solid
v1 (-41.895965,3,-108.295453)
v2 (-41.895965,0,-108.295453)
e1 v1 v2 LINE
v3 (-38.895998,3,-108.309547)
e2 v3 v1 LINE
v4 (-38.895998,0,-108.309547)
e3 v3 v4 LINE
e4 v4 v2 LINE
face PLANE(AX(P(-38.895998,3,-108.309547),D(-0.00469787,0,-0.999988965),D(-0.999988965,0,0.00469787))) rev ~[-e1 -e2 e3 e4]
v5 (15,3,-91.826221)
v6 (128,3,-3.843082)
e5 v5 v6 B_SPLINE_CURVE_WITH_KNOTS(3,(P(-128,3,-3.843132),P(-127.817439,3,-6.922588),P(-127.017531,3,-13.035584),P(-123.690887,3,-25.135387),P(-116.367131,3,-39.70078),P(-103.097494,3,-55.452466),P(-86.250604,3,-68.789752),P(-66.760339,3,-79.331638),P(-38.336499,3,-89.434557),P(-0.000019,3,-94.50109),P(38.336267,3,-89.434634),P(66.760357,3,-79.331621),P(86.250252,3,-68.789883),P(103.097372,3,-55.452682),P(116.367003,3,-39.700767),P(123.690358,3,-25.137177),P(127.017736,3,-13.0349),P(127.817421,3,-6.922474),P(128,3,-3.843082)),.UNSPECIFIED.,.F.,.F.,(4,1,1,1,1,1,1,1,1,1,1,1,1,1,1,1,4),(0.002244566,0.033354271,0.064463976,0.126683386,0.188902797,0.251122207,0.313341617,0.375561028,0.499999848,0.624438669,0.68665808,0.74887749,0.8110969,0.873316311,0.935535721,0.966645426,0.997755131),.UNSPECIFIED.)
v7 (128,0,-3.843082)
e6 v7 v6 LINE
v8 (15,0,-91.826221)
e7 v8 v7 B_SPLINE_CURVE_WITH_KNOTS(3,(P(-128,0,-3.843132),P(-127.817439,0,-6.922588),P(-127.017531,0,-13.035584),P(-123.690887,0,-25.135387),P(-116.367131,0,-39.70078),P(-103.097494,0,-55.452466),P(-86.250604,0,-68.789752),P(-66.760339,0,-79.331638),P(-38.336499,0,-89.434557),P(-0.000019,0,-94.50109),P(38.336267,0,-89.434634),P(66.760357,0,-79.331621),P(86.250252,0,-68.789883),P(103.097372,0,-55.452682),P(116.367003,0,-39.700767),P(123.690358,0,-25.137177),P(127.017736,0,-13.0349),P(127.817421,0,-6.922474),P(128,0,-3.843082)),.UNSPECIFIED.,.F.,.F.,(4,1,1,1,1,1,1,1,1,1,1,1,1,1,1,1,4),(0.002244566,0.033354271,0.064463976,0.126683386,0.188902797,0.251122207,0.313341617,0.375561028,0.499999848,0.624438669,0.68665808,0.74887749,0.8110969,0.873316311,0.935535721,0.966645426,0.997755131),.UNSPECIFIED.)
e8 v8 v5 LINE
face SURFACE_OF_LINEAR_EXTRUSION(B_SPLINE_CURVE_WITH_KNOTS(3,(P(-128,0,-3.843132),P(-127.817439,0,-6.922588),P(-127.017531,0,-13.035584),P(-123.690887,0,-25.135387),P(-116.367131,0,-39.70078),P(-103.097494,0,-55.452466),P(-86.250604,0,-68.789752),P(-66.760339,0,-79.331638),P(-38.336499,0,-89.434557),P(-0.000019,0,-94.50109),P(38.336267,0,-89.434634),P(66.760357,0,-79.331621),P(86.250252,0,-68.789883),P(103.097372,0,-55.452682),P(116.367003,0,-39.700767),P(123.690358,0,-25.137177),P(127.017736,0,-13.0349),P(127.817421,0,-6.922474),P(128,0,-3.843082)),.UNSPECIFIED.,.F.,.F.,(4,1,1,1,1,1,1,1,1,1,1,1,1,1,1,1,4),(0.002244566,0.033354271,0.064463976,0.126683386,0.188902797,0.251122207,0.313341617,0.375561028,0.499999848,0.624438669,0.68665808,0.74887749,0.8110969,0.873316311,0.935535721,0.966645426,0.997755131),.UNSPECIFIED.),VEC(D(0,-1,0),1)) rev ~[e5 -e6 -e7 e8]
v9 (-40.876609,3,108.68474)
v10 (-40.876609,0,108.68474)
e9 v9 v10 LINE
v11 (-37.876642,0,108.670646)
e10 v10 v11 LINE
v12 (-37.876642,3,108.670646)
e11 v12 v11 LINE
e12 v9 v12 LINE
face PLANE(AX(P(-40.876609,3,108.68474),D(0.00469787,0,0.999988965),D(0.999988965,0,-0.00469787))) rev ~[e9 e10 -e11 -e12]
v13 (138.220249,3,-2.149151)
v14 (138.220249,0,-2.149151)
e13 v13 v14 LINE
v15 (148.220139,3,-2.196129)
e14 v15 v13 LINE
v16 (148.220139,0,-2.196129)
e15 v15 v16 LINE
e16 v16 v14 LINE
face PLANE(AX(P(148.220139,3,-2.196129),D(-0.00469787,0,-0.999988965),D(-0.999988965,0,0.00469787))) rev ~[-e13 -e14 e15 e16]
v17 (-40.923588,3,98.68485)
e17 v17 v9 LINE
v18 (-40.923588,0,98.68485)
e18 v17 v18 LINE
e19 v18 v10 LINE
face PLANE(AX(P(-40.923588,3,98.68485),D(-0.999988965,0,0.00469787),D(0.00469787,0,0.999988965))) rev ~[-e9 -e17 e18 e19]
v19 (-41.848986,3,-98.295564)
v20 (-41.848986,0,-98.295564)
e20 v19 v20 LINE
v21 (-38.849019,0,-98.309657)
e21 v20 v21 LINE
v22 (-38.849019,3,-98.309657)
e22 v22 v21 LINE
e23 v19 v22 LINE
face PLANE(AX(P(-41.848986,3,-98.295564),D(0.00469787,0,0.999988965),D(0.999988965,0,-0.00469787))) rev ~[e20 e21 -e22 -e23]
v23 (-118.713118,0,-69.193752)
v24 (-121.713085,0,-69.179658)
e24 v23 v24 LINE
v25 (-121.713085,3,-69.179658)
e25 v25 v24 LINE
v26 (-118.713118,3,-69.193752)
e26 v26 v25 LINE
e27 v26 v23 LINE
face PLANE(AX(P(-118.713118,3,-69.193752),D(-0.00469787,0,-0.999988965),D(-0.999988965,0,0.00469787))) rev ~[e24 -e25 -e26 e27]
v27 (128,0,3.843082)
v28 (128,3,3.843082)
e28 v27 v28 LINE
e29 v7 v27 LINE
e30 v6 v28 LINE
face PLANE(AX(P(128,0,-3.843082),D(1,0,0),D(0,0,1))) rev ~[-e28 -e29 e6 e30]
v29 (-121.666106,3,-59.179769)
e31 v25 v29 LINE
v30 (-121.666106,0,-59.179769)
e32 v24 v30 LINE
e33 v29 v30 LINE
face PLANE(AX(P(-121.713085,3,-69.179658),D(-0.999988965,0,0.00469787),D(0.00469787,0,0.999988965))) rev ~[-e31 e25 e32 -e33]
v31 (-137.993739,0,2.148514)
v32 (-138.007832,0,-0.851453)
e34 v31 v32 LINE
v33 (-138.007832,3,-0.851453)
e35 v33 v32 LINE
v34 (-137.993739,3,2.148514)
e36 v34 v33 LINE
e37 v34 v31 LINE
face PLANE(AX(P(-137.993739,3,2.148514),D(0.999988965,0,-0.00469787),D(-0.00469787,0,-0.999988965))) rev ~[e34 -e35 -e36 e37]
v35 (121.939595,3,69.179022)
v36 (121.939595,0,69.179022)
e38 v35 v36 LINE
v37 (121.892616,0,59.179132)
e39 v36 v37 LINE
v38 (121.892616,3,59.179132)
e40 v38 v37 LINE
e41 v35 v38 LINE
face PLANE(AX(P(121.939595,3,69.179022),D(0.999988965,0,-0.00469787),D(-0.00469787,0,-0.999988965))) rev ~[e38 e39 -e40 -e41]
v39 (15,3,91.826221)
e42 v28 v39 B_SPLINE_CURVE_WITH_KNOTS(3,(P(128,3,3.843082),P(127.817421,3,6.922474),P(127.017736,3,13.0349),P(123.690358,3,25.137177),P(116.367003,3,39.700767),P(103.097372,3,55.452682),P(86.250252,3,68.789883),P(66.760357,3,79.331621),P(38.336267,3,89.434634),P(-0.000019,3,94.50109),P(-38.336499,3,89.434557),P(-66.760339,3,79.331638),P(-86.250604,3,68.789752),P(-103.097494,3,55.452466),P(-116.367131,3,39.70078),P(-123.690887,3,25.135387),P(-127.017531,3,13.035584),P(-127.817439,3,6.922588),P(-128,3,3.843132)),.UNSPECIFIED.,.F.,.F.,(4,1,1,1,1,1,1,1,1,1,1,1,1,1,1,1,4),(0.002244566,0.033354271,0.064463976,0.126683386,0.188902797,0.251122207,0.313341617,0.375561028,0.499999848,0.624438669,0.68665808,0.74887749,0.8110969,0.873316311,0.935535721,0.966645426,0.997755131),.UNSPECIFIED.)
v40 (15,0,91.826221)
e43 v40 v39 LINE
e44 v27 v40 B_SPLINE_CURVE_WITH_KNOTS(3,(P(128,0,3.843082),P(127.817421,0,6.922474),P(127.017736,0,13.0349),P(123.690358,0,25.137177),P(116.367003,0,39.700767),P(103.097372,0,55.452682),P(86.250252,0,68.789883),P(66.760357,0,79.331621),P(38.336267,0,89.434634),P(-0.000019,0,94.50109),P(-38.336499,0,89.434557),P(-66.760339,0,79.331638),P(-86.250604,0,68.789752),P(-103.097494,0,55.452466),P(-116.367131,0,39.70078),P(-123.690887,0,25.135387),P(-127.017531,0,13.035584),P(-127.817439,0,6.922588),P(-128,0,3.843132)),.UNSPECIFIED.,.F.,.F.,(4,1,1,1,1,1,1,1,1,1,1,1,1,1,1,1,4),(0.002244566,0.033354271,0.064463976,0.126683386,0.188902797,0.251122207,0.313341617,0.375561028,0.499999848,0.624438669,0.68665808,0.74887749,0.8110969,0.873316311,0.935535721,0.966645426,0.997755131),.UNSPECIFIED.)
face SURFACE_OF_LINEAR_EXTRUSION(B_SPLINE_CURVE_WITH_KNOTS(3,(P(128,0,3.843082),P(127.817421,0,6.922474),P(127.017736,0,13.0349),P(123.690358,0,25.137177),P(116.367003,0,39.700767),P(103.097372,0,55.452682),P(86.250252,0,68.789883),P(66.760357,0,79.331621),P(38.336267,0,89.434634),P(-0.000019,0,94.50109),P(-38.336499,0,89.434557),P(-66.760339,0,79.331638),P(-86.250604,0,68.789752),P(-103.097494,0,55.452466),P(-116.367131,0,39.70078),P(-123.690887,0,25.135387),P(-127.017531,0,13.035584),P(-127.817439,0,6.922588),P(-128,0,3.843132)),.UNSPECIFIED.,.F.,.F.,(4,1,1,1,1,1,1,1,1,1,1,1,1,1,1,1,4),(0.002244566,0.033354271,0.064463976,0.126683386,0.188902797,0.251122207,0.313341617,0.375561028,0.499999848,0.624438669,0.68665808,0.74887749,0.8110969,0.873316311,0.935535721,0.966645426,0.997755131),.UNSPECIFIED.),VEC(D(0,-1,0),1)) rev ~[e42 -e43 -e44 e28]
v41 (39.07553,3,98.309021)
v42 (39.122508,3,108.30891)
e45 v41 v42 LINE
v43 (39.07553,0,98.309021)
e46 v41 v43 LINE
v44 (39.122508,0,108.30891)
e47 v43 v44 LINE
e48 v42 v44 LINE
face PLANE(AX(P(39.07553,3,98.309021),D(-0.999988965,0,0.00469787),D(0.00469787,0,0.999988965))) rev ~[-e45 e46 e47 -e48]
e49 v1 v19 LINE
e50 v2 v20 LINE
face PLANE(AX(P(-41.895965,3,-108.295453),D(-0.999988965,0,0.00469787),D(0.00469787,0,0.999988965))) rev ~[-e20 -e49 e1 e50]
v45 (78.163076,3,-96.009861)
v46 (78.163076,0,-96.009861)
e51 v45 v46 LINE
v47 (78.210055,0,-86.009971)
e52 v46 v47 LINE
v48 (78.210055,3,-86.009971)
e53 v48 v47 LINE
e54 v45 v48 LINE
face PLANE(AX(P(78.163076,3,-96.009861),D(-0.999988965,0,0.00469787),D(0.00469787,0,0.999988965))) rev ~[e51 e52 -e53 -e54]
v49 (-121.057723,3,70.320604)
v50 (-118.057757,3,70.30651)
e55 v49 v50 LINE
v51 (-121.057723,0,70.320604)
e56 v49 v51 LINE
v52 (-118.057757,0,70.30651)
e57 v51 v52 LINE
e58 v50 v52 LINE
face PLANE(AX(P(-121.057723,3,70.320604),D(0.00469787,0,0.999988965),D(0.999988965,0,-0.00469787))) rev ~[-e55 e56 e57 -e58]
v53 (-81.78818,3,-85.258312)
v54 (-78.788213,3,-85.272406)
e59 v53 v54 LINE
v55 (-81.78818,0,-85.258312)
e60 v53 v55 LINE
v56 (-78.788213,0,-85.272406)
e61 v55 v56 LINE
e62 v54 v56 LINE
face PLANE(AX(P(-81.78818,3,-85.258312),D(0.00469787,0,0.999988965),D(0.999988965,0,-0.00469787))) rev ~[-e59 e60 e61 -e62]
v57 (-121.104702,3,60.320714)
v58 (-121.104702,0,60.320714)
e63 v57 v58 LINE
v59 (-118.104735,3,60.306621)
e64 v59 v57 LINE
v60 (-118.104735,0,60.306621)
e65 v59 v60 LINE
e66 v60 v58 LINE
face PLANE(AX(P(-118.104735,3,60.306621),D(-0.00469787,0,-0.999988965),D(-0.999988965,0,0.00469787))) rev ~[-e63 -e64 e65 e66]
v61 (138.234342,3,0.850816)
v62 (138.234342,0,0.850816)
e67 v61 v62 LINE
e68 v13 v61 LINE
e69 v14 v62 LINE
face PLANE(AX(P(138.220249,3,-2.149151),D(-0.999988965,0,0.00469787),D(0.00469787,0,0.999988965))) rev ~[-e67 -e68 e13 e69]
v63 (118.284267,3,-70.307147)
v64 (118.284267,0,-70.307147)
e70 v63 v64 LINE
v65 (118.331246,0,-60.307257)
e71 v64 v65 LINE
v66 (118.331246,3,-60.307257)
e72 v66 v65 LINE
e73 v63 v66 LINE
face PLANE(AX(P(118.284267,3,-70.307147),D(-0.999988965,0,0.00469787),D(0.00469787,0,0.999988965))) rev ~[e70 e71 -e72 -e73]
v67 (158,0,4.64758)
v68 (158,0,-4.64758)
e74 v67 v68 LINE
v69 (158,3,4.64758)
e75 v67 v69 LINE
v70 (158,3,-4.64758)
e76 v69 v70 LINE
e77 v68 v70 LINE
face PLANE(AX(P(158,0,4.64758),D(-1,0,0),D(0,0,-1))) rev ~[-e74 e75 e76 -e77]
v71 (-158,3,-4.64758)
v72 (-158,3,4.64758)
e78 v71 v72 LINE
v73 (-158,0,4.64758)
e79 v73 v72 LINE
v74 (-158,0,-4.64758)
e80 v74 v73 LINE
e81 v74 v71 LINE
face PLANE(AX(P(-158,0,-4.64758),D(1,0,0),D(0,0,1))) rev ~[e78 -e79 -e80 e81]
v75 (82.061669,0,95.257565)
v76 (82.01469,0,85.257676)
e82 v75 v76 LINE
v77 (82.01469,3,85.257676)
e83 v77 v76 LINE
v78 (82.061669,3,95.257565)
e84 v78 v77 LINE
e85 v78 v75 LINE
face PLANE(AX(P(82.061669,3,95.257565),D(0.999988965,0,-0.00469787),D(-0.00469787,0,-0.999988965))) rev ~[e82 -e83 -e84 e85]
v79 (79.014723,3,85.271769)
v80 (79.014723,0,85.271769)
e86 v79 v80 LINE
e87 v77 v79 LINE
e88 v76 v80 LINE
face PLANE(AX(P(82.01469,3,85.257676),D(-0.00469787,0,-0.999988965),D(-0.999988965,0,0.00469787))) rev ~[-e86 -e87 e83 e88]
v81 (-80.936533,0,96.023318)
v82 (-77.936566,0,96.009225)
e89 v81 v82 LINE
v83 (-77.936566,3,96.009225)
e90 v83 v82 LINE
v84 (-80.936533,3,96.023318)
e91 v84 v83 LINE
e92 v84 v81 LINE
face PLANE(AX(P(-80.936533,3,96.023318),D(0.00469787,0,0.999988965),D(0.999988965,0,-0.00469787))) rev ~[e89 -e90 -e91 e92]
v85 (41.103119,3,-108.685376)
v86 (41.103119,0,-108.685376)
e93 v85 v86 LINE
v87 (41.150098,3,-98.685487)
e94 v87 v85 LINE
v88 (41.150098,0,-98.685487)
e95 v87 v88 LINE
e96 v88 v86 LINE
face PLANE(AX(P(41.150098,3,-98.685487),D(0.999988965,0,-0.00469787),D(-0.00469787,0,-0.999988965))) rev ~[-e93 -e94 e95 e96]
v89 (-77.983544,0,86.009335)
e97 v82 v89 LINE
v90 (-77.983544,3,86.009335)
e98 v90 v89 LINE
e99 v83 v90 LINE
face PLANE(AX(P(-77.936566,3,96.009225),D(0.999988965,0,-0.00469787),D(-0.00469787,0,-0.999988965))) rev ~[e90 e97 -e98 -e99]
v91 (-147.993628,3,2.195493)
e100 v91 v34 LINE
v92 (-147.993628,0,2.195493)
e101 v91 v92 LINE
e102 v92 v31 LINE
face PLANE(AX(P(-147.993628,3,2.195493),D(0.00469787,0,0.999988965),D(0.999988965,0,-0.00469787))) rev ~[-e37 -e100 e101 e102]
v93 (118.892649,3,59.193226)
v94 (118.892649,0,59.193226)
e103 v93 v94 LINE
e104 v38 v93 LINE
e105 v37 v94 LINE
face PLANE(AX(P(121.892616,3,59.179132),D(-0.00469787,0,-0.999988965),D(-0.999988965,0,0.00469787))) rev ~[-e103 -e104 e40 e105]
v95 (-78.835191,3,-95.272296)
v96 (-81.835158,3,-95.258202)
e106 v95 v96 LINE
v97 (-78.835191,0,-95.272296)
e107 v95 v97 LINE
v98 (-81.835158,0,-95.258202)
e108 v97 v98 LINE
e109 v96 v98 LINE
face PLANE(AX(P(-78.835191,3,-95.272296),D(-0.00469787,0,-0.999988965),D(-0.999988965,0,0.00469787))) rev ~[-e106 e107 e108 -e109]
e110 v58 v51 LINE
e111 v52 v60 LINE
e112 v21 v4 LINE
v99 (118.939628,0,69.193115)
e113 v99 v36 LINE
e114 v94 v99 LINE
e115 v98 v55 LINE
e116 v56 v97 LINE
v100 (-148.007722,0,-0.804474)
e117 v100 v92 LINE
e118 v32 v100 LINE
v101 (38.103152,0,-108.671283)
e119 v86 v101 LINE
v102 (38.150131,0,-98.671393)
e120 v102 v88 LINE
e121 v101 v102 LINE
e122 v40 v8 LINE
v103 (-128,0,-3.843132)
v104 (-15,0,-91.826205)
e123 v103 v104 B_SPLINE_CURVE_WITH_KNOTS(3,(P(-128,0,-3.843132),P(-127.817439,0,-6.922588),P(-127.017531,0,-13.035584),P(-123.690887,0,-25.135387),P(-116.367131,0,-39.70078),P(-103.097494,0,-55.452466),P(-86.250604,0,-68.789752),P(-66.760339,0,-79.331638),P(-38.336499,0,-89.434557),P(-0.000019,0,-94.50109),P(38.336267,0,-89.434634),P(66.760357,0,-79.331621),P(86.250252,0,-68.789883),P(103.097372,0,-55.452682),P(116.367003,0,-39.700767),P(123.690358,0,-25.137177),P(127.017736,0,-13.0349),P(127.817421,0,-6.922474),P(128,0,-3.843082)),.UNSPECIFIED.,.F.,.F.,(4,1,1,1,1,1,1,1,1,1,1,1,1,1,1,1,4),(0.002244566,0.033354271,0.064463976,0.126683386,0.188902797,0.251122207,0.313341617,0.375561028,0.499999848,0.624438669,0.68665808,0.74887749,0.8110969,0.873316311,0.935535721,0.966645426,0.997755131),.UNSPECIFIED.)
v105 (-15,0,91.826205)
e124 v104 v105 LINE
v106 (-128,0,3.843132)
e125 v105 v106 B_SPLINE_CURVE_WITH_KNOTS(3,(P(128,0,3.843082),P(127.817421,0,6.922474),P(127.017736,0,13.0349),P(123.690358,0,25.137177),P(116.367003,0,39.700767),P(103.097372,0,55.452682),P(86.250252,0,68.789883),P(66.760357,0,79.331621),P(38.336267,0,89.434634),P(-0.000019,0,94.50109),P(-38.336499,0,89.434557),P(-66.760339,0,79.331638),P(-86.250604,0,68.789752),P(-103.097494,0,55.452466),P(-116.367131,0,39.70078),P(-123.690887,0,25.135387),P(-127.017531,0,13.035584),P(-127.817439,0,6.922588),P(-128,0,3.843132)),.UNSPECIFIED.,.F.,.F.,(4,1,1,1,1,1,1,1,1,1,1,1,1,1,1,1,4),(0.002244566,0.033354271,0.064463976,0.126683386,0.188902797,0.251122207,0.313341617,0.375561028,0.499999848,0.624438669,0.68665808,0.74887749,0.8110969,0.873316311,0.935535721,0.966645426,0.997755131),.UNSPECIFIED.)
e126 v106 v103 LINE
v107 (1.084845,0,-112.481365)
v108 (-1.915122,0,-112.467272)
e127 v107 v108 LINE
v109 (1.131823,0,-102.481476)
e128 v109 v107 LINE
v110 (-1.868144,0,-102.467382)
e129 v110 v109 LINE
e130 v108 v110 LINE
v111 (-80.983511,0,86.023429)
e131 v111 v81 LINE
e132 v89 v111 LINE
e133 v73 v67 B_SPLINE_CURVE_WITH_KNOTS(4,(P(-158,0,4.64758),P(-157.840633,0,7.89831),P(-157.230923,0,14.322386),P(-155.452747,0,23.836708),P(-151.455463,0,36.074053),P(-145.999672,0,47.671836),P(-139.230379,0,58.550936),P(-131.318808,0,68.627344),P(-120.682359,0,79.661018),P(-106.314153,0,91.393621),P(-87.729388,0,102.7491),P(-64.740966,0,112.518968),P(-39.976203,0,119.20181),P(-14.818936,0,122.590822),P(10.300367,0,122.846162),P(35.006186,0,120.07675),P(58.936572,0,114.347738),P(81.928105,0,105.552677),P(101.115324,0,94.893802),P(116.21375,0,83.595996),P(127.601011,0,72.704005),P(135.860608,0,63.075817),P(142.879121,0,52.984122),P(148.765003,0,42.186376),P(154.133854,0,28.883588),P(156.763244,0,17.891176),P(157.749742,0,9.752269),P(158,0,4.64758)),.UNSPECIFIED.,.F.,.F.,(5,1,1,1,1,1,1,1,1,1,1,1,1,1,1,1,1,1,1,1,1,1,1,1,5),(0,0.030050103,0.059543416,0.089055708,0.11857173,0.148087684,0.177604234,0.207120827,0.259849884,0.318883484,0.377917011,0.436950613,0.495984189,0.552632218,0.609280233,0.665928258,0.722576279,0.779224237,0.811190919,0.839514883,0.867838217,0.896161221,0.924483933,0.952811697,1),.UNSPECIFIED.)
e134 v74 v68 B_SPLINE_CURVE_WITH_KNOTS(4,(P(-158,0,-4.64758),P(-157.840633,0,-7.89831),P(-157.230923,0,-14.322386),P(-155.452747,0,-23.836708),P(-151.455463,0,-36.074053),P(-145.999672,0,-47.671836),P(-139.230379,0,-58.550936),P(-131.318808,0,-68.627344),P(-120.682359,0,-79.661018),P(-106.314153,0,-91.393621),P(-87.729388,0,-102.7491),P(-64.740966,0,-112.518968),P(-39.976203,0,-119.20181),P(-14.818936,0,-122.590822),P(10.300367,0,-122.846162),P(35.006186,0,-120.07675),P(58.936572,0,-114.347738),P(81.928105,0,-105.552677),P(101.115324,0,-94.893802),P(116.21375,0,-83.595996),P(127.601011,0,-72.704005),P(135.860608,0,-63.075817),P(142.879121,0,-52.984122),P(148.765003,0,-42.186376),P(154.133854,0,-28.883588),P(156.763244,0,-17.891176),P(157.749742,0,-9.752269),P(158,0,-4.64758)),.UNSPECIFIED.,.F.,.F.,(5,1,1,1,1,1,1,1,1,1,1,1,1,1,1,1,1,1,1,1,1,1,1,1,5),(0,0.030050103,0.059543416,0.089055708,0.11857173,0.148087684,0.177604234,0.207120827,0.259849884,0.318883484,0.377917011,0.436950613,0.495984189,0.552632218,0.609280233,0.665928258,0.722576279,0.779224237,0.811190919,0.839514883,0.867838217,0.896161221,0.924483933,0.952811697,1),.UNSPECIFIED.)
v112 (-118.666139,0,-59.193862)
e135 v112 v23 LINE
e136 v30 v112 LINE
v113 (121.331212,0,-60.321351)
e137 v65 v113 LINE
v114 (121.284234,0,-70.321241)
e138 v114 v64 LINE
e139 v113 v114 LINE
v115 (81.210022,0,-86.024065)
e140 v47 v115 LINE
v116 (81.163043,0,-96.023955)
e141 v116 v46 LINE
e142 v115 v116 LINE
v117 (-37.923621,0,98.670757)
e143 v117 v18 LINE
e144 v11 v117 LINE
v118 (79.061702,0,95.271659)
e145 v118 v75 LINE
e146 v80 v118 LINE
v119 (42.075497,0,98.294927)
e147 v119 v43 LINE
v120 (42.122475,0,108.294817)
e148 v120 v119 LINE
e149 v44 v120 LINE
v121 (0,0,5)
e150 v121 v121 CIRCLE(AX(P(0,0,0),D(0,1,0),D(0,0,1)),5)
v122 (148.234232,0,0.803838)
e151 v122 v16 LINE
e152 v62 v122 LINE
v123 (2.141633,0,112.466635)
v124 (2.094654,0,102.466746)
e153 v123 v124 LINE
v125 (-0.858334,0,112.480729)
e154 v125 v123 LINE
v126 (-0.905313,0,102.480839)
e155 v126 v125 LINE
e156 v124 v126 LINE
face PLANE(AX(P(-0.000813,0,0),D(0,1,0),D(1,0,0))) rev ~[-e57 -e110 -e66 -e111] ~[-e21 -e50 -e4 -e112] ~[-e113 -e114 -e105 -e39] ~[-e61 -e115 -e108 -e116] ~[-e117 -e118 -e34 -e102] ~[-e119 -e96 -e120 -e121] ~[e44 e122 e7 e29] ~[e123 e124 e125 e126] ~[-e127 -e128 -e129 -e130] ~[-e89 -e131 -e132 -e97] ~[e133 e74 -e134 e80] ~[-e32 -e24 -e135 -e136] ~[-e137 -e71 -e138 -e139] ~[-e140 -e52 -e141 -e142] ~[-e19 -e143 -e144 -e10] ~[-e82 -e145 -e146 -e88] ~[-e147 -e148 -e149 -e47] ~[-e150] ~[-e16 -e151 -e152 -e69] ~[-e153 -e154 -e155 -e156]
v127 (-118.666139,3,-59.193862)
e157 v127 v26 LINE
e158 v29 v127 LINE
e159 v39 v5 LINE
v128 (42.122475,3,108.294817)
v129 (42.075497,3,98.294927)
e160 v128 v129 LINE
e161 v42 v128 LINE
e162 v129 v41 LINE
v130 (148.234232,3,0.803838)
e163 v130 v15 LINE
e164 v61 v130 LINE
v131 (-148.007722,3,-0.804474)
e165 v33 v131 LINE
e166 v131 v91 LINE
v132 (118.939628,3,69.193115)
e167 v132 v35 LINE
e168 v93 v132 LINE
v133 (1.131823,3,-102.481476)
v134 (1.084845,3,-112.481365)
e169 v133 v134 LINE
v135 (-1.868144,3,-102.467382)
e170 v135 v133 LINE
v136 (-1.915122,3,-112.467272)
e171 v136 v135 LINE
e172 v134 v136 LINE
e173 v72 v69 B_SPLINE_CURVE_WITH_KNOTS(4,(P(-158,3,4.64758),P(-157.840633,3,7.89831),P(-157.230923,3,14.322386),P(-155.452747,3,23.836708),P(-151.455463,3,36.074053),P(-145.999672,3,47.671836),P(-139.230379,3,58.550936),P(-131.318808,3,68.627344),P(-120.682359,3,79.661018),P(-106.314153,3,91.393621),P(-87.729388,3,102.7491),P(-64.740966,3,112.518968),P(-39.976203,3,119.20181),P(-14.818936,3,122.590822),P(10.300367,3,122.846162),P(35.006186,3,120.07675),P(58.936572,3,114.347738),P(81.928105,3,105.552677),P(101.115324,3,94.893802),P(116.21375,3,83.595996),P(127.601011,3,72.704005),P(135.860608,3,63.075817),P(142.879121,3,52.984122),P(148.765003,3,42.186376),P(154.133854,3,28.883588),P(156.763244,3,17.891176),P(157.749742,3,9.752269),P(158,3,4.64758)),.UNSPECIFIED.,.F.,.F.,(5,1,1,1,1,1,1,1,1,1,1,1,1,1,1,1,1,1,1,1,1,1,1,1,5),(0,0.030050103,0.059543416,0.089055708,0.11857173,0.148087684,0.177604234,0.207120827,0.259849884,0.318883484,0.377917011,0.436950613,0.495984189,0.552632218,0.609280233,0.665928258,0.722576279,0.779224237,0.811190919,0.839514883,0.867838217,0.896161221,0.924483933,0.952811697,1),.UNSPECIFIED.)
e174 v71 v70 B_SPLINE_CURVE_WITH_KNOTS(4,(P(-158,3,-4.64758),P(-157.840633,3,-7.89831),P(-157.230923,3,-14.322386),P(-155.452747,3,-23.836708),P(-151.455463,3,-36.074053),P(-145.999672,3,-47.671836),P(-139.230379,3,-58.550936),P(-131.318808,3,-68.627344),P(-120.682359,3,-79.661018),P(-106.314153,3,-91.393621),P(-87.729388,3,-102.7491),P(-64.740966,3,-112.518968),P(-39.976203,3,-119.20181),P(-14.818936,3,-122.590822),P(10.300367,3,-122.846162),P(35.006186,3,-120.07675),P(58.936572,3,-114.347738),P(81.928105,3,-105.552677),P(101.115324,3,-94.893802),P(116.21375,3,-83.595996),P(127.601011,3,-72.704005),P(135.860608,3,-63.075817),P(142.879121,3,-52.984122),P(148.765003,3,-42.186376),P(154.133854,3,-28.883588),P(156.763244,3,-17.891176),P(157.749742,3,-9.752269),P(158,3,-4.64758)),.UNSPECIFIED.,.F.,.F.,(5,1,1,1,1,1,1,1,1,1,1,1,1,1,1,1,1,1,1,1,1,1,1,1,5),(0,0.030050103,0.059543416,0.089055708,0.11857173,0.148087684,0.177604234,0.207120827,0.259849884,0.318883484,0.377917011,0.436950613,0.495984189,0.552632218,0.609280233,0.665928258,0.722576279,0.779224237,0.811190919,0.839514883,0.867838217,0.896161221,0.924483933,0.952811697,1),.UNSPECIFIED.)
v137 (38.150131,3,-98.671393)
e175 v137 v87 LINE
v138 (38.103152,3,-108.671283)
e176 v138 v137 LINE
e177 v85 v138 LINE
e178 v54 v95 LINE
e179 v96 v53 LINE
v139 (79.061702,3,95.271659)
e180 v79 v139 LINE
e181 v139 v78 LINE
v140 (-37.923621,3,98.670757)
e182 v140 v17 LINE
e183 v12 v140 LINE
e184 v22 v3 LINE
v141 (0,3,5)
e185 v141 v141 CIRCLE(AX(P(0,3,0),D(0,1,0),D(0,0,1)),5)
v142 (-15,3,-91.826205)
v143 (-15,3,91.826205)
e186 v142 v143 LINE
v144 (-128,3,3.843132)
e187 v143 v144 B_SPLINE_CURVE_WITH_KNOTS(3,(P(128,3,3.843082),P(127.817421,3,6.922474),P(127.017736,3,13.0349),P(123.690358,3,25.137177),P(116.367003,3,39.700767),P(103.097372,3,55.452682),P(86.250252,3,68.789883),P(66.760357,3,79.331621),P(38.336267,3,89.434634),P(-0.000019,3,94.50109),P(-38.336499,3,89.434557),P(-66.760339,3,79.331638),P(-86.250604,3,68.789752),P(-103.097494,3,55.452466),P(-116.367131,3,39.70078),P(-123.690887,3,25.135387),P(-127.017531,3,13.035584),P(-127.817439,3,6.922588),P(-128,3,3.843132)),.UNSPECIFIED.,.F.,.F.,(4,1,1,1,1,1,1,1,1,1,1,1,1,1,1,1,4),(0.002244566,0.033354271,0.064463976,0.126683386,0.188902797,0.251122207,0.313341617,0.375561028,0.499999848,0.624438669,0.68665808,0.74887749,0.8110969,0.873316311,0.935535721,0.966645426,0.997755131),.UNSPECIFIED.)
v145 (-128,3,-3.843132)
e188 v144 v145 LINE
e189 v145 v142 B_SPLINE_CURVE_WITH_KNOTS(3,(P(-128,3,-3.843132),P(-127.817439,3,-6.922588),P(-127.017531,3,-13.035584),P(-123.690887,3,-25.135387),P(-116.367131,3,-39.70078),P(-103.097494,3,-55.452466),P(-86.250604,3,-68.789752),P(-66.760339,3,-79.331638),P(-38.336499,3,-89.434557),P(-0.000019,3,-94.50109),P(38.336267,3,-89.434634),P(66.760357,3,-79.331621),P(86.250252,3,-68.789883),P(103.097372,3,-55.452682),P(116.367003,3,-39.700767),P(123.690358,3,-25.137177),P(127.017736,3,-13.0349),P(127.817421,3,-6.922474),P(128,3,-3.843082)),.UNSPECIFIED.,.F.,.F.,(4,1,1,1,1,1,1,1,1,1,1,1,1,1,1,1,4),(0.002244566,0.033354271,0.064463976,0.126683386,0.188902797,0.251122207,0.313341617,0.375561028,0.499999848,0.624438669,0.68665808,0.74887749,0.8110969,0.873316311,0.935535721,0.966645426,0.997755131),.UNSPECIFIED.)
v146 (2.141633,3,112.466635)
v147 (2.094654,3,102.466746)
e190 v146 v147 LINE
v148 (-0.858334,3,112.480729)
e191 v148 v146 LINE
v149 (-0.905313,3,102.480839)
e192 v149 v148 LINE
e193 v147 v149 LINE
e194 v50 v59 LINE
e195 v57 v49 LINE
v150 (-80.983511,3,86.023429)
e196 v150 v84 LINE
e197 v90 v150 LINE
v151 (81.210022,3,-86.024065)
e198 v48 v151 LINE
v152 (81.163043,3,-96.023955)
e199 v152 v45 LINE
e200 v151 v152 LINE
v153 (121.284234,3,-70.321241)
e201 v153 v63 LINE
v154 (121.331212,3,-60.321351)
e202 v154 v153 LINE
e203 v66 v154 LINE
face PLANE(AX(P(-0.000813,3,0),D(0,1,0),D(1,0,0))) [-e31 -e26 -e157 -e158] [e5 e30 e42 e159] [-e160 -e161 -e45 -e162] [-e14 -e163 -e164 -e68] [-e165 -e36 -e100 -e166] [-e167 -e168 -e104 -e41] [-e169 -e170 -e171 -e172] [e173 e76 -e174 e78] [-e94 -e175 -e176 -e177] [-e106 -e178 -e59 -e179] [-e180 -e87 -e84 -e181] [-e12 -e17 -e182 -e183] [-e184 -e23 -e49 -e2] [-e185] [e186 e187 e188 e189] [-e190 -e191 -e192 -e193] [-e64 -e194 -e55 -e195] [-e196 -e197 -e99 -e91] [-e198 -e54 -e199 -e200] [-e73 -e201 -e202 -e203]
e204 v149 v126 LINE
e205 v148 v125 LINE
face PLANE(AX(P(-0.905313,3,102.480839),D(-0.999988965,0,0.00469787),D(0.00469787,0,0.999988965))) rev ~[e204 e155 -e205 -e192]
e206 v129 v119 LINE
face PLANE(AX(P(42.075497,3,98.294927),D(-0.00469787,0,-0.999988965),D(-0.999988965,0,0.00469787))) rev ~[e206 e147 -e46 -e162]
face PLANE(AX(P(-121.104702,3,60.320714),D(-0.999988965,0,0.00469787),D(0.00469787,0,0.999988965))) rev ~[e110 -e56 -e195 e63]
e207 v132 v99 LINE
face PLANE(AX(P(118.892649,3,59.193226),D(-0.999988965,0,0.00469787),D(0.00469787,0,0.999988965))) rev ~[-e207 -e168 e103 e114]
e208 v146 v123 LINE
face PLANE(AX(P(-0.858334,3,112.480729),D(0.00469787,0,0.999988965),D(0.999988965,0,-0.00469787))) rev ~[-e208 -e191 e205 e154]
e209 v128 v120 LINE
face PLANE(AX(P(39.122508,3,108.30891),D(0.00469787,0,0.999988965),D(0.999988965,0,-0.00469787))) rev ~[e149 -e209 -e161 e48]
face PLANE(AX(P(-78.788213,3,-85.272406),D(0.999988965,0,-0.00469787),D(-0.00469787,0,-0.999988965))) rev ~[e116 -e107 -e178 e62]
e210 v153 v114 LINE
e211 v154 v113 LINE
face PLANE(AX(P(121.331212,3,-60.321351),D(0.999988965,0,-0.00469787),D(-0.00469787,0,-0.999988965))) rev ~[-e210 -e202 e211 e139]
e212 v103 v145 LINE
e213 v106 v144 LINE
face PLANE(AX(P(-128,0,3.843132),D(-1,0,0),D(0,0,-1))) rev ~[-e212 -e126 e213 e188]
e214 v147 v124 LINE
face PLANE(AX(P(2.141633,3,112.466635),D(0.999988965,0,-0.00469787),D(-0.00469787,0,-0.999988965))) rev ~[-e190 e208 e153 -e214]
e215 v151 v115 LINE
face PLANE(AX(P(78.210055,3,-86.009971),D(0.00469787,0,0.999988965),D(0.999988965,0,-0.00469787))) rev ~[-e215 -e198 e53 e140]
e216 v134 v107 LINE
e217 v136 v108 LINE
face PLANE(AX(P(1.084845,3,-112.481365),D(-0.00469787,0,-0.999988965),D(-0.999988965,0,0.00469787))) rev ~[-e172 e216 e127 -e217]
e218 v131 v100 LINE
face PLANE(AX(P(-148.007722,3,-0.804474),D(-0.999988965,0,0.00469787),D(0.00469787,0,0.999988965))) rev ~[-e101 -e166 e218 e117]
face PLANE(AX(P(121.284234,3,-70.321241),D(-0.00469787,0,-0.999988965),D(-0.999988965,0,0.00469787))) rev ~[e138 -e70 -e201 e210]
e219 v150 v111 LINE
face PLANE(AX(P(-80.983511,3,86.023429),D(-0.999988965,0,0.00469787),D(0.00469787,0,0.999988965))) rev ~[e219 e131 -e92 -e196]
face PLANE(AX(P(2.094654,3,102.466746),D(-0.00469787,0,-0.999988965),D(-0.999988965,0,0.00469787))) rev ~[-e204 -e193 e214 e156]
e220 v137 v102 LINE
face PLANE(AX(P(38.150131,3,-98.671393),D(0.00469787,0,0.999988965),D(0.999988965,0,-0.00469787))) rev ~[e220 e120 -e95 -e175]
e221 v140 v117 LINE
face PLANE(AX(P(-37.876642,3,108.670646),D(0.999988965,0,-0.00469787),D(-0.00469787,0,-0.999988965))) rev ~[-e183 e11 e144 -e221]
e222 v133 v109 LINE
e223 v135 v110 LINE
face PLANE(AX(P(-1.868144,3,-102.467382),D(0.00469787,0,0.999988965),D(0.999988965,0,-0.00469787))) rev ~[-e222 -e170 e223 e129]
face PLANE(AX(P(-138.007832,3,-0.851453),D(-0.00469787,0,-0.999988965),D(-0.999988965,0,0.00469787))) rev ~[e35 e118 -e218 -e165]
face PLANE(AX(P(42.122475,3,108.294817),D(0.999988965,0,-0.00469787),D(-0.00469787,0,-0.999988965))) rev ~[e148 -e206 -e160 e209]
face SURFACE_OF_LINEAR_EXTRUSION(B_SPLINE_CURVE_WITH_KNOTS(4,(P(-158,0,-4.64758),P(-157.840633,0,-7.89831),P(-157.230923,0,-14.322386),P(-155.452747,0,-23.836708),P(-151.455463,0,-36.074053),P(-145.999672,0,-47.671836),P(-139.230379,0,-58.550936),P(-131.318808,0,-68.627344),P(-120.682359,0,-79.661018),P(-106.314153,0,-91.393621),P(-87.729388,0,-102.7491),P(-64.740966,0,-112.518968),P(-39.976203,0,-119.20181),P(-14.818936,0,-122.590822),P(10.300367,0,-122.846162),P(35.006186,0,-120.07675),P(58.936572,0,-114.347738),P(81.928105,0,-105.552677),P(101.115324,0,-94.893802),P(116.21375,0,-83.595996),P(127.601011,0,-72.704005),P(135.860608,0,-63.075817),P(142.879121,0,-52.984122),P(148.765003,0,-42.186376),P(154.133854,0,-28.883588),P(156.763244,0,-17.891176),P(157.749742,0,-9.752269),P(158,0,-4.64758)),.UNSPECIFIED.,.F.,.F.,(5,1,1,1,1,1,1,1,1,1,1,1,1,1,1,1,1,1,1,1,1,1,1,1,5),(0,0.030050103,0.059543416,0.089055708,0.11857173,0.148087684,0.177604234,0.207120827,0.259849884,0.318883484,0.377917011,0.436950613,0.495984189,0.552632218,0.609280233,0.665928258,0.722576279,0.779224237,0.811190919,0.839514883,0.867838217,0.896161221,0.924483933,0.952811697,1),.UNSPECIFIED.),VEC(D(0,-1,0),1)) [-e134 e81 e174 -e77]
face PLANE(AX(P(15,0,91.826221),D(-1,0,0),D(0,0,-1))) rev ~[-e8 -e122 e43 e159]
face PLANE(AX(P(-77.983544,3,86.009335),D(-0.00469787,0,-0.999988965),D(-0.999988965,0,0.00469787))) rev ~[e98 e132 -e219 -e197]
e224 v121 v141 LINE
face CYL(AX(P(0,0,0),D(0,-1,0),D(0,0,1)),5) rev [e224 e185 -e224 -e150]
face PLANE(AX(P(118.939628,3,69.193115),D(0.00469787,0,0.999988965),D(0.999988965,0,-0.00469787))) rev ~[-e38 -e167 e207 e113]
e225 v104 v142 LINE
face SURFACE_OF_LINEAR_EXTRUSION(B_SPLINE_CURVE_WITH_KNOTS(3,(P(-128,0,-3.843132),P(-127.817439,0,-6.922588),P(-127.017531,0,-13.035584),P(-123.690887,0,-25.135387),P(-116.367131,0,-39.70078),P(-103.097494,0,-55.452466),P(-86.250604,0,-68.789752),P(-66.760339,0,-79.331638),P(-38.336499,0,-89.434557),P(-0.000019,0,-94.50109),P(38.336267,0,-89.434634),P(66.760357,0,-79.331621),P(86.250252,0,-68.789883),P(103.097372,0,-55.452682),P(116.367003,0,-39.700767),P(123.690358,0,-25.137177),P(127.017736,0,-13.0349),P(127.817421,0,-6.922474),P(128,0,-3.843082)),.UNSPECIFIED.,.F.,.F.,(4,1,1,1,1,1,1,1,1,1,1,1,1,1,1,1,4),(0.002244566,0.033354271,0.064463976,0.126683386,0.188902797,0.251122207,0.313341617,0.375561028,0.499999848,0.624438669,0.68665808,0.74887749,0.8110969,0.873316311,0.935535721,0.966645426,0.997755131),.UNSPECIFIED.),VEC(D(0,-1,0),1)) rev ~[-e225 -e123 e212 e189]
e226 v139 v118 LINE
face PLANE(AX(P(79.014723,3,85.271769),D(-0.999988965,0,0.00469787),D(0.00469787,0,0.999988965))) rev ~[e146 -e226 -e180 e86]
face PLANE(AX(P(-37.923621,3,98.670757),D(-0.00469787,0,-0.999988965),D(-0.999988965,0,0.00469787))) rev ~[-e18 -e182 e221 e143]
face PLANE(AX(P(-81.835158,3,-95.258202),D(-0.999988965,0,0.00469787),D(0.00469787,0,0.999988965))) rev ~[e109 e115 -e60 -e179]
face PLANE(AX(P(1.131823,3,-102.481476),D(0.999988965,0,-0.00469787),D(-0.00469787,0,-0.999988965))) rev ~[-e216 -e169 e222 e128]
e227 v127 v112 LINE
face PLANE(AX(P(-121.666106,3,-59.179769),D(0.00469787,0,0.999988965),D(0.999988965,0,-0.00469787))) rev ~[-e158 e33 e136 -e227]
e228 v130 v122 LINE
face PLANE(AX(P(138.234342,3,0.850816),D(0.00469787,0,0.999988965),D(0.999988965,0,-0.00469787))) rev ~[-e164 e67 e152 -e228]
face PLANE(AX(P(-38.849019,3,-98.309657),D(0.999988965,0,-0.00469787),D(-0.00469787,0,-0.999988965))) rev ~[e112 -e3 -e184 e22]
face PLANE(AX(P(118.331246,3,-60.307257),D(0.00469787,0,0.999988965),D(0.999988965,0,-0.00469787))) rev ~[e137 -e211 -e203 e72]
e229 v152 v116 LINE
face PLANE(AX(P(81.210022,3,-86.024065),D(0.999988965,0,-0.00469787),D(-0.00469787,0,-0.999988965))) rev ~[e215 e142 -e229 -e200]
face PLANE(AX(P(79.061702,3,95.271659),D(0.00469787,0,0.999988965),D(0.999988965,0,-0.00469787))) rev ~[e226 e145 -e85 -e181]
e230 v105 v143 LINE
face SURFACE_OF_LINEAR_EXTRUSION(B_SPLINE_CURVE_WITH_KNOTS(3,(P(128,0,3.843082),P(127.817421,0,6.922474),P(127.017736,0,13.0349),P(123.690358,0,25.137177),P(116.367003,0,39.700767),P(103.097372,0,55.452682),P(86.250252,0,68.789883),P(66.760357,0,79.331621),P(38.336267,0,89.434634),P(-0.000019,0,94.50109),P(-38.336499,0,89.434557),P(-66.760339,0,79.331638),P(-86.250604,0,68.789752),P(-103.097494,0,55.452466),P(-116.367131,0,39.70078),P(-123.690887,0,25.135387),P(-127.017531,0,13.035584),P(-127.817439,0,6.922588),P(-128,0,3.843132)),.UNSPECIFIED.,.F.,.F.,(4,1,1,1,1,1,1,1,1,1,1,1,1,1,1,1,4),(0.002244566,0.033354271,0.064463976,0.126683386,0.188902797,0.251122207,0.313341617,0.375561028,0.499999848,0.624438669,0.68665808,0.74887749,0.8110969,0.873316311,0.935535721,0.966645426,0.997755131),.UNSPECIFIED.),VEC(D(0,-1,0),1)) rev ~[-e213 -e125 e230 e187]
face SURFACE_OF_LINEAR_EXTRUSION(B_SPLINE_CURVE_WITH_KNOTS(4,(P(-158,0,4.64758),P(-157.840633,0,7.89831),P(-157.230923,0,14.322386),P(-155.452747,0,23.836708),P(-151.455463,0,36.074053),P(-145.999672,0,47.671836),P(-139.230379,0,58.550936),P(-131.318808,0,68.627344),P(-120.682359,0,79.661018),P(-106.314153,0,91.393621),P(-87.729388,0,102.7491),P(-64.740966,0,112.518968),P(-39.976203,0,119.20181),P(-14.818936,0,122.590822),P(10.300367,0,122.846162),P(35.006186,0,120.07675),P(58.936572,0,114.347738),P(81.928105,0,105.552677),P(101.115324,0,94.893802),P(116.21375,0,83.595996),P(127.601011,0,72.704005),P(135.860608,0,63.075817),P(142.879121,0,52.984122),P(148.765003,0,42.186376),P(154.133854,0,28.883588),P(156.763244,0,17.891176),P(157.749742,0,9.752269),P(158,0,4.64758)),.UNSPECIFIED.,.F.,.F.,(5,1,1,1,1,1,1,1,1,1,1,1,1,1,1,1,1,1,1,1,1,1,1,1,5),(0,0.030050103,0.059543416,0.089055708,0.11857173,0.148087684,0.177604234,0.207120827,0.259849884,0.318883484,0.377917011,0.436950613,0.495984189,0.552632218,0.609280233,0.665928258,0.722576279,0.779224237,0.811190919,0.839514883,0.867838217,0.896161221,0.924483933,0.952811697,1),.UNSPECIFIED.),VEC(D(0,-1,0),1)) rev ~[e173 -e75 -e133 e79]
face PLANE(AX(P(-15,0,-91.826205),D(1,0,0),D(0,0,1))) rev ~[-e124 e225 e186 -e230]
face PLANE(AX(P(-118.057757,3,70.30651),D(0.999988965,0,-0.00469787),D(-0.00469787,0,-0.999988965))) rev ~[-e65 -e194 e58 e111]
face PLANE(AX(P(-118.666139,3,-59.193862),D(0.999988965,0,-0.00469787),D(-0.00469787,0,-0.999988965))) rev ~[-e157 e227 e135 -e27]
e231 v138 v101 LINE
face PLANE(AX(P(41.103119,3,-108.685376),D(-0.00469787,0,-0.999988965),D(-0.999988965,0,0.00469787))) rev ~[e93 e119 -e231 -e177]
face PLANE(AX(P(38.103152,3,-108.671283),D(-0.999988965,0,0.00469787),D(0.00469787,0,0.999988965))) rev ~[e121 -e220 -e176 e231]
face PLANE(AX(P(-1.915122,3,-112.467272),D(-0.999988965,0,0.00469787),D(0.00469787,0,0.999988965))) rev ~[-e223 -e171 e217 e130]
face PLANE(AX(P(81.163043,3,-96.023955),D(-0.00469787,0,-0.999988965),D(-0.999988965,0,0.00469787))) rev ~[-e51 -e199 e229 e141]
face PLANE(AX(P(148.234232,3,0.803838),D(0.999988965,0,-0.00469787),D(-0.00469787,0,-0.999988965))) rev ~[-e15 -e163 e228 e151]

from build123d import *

# Parameters (mm, degrees)
SKETCH_2_R          = 5
EXTRUDE_1_DEPTH     = 3
CUT_EXTRUDE_1_DEPTH = 200.932491601


with BuildPart() as part:
    # 草图2 → 凸台-拉伸1 (new body)
    with BuildSketch(Plane(origin=(0, 0, 0), x_dir=(1, 0, 0), z_dir=(0, 1, 0))):
        with BuildLine():
            add(Edge.make_bspline(
                [(-158, 4.647580015), (-157.840632623, 7.898309914), (-157.230923207, 14.322386142), (-155.452746954, 23.836708418), (-151.455463066, 36.074052553), (-145.999672069, 47.671836442), (-139.230379225, 58.550935995), (-131.318807935, 68.627343709), (-120.682359228, 79.66101812), (-106.314153227, 91.393620751), (-87.729388125, 102.749099806), (-64.740966029, 112.518967886), (-39.976202938, 119.201809502), (-14.818936259, 122.590822364), (10.300366837, 122.846161773), (35.006186274, 120.076750254), (58.936571944, 114.347737623), (81.928105159, 105.552677383), (101.115324182, 94.89380247), (116.213750165, 83.595995995), (127.601010627, 72.704005397), (135.860607987, 63.075817152), (142.879120728, 52.984121912), (148.765002816, 42.186376352), (154.133853951, 28.8835882), (156.763243516, 17.891175579), (157.749742083, 9.75226901), (158, 4.647580015)],
                knots=[0, 0, 0, 0, 0, 0.030050103, 0.059543416, 0.089055708, 0.11857173, 0.148087684, 0.177604234, 0.207120827, 0.259849884, 0.318883484, 0.377917011, 0.436950613, 0.495984189, 0.552632218, 0.609280233, 0.665928258, 0.722576279, 0.779224237, 0.811190919, 0.839514883, 0.867838217, 0.896161221, 0.924483933, 0.952811697, 1, 1, 1, 1, 1], degree=4))
            Line((-158, 4.647580015), (-158, -4.647580015))
            add(Edge.make_bspline(
                [(-158, -4.647580015), (-157.840632623, -7.898309914), (-157.230923207, -14.322386142), (-155.452746954, -23.836708418), (-151.455463066, -36.074052553), (-145.999672069, -47.671836442), (-139.230379225, -58.550935995), (-131.318807935, -68.627343709), (-120.682359228, -79.66101812), (-106.314153227, -91.393620751), (-87.729388125, -102.749099806), (-64.740966029, -112.518967886), (-39.976202938, -119.201809502), (-14.818936259, -122.590822364), (10.300366837, -122.846161773), (35.006186274, -120.076750254), (58.936571944, -114.347737623), (81.928105159, -105.552677383), (101.115324182, -94.89380247), (116.213750165, -83.595995995), (127.601010627, -72.704005397), (135.860607987, -63.075817152), (142.879120728, -52.984121912), (148.765002816, -42.186376352), (154.133853951, -28.8835882), (156.763243516, -17.891175579), (157.749742083, -9.75226901), (158, -4.647580015)],
                knots=[0, 0, 0, 0, 0, 0.030050103, 0.059543416, 0.089055708, 0.11857173, 0.148087684, 0.177604234, 0.207120827, 0.259849884, 0.318883484, 0.377917011, 0.436950613, 0.495984189, 0.552632218, 0.609280233, 0.665928258, 0.722576279, 0.779224237, 0.811190919, 0.839514883, 0.867838217, 0.896161221, 0.924483933, 0.952811697, 1, 1, 1, 1, 1], degree=4))
            Line((158, -4.647580015), (158, 4.647580015))
        make_face()
        with BuildLine():
            Line((14.99999999, -91.826221469), (14.99999999, 91.826221469))
            add(Edge.make_bspline(
                [(14.99999999, 91.826221469), (25.272065208, 90.935478506), (42.978337905, 87.784663449), (66.760356672, 79.331620625), (86.250252489, 68.789883395), (103.097371825, 55.45268215), (116.36700284, 39.700766823), (123.690358435, 25.137176558), (127.017736472, 13.034900149), (127.817421208, 6.922474495), (128, 3.843082438)],
                knots=[0.540645219, 0.540645219, 0.540645219, 0.540645219, 0.624438669, 0.68665808, 0.74887749, 0.8110969, 0.873316311, 0.935535721, 0.966645426, 0.997755131, 0.997755131, 0.997755131, 0.997755131], degree=3))
            Line((128, 3.843082438), (128, -3.843082438))
            add(Edge.make_bspline(
                [(128, -3.843082438), (127.817421208, -6.922474495), (127.017736472, -13.034900149), (123.690358435, -25.137176558), (116.36700284, -39.700766823), (103.097371825, -55.45268215), (86.250252489, -68.789883395), (66.760356672, -79.331620625), (42.978337905, -87.784663449), (25.272065208, -90.935478506), (14.99999999, -91.826221469)],
                knots=[0.002244566, 0.002244566, 0.002244566, 0.002244566, 0.033354271, 0.064463976, 0.126683386, 0.188902797, 0.251122207, 0.313341617, 0.375561028, 0.459354478, 0.459354478, 0.459354478, 0.459354478], degree=3))
        make_face(mode=Mode.SUBTRACT)
        with BuildLine():
            Line((-15, 91.826204625), (-15, -91.826204624))
            add(Edge.make_bspline(
                [(-15, -91.826204624), (-25.272129397, -90.935448732), (-42.978487926, -87.784616576), (-66.760338924, -79.331638367), (-86.250604016, -68.789751516), (-103.097493512, -55.452466033), (-116.367130615, -39.700780131), (-123.690887414, -25.135387447), (-127.01753099, -13.035584443), (-127.817439146, -6.922588381), (-128, -3.843132274)],
                knots=[0.540644858, 0.540644858, 0.540644858, 0.540644858, 0.624438669, 0.68665808, 0.74887749, 0.8110969, 0.873316311, 0.935535721, 0.966645426, 0.997755131, 0.997755131, 0.997755131, 0.997755131], degree=3))
            Line((-128, -3.843132274), (-128, 3.843132274))
            add(Edge.make_bspline(
                [(-128, 3.843132274), (-127.817439146, 6.922588381), (-127.01753099, 13.035584443), (-123.690887414, 25.135387447), (-116.367130615, 39.700780131), (-103.097493512, 55.452466033), (-86.250604016, 68.789751516), (-66.760338924, 79.331638367), (-42.978487926, 87.784616576), (-25.272129397, 90.935448732), (-15, 91.826204624)],
                knots=[0.002244566, 0.002244566, 0.002244566, 0.002244566, 0.033354271, 0.064463976, 0.126683386, 0.188902797, 0.251122207, 0.313341617, 0.375561028, 0.459354839, 0.459354839, 0.459354839, 0.459354839], degree=3))
        make_face(mode=Mode.SUBTRACT)
        Circle(SKETCH_2_R, mode=Mode.SUBTRACT)
    extrude(amount=EXTRUDE_1_DEPTH)

    # 草图3 → 切除-拉伸1 (cut, through all)
    with BuildSketch(Plane(origin=(0, 3, 0), x_dir=(1, 0, 0), z_dir=(0, 1, 0))):
        Polygon((79.061701734, -95.271659003), (82.061668628, -95.257565394), (82.014689931, -85.257675744), (79.014723036, -85.271769353), align=None)
        Polygon((121.892616384, -59.179131978), (118.892649489, -59.193225587), (118.939628187, -69.193115237), (121.939595081, -69.179021627), align=None)
        Polygon((-0.858334219, -112.480728906), (2.141632676, -112.466635297), (2.094653978, -102.466745647), (-0.905312917, -102.480839257), align=None)
        Polygon((-37.87664199, -108.670646183), (-37.923620688, -98.670756533), (-40.923587583, -98.684850143), (-40.876608885, -108.684739792), align=None)
        Polygon((42.122475205, -108.294816603), (42.075496508, -98.294926953), (39.075529613, -98.309020563), (39.122508311, -108.308910212), align=None)
        Polygon((138.220248888, 2.149150661), (138.234342497, -0.850816234), (148.234232146, -0.803837537), (148.220138537, 2.196129358), align=None)
        Polygon((121.284233788, 70.321240537), (118.284266893, 70.307146928), (118.33124559, 60.307257278), (121.331212485, 60.321350887), align=None)
        Polygon((78.16307615, 96.009861114), (78.210054848, 86.009971464), (81.210021742, 86.024065074), (81.163043045, 96.023954723), align=None)
        Polygon((38.103152377, 108.671282743), (38.150131075, 98.671393094), (41.150097969, 98.685486703), (41.103119272, 108.685376352), align=None)
        Polygon((-1.868143592, 102.467382207), (1.131823303, 102.481475817), (1.084844606, 112.481365466), (-1.915122289, 112.467271857), align=None)
        Polygon((-41.895964819, 108.295453163), (-41.848986121, 98.295563514), (-38.849019226, 98.309657123), (-38.895997924, 108.309546772), align=None)
        Polygon((-81.835158242, 95.258201954), (-81.788179544, 85.258312304), (-78.788212649, 85.272405914), (-78.835191347, 95.272295563), align=None)
        Polygon((-118.7131178, 69.193751797), (-121.713084695, 69.179658188), (-121.666105997, 59.179768538), (-118.666139102, 59.193862147), align=None)
        Polygon((-148.00772176, 0.804474097), (-147.993628151, -2.195492798), (-137.993738501, -2.1485141), (-138.00783211, 0.851452795), align=None)
        Polygon((-118.104735204, -60.306620718), (-121.104702099, -60.320714327), (-121.057723401, -70.320603977), (-118.057756506, -70.306510367), align=None)
        Polygon((-80.936532658, -96.023318163), (-77.936565763, -96.009224554), (-77.983544461, -86.009334904), (-80.983511356, -86.023428513), align=None)
    extrude(amount=-CUT_EXTRUDE_1_DEPTH, mode=Mode.SUBTRACT)


solid = part.part
